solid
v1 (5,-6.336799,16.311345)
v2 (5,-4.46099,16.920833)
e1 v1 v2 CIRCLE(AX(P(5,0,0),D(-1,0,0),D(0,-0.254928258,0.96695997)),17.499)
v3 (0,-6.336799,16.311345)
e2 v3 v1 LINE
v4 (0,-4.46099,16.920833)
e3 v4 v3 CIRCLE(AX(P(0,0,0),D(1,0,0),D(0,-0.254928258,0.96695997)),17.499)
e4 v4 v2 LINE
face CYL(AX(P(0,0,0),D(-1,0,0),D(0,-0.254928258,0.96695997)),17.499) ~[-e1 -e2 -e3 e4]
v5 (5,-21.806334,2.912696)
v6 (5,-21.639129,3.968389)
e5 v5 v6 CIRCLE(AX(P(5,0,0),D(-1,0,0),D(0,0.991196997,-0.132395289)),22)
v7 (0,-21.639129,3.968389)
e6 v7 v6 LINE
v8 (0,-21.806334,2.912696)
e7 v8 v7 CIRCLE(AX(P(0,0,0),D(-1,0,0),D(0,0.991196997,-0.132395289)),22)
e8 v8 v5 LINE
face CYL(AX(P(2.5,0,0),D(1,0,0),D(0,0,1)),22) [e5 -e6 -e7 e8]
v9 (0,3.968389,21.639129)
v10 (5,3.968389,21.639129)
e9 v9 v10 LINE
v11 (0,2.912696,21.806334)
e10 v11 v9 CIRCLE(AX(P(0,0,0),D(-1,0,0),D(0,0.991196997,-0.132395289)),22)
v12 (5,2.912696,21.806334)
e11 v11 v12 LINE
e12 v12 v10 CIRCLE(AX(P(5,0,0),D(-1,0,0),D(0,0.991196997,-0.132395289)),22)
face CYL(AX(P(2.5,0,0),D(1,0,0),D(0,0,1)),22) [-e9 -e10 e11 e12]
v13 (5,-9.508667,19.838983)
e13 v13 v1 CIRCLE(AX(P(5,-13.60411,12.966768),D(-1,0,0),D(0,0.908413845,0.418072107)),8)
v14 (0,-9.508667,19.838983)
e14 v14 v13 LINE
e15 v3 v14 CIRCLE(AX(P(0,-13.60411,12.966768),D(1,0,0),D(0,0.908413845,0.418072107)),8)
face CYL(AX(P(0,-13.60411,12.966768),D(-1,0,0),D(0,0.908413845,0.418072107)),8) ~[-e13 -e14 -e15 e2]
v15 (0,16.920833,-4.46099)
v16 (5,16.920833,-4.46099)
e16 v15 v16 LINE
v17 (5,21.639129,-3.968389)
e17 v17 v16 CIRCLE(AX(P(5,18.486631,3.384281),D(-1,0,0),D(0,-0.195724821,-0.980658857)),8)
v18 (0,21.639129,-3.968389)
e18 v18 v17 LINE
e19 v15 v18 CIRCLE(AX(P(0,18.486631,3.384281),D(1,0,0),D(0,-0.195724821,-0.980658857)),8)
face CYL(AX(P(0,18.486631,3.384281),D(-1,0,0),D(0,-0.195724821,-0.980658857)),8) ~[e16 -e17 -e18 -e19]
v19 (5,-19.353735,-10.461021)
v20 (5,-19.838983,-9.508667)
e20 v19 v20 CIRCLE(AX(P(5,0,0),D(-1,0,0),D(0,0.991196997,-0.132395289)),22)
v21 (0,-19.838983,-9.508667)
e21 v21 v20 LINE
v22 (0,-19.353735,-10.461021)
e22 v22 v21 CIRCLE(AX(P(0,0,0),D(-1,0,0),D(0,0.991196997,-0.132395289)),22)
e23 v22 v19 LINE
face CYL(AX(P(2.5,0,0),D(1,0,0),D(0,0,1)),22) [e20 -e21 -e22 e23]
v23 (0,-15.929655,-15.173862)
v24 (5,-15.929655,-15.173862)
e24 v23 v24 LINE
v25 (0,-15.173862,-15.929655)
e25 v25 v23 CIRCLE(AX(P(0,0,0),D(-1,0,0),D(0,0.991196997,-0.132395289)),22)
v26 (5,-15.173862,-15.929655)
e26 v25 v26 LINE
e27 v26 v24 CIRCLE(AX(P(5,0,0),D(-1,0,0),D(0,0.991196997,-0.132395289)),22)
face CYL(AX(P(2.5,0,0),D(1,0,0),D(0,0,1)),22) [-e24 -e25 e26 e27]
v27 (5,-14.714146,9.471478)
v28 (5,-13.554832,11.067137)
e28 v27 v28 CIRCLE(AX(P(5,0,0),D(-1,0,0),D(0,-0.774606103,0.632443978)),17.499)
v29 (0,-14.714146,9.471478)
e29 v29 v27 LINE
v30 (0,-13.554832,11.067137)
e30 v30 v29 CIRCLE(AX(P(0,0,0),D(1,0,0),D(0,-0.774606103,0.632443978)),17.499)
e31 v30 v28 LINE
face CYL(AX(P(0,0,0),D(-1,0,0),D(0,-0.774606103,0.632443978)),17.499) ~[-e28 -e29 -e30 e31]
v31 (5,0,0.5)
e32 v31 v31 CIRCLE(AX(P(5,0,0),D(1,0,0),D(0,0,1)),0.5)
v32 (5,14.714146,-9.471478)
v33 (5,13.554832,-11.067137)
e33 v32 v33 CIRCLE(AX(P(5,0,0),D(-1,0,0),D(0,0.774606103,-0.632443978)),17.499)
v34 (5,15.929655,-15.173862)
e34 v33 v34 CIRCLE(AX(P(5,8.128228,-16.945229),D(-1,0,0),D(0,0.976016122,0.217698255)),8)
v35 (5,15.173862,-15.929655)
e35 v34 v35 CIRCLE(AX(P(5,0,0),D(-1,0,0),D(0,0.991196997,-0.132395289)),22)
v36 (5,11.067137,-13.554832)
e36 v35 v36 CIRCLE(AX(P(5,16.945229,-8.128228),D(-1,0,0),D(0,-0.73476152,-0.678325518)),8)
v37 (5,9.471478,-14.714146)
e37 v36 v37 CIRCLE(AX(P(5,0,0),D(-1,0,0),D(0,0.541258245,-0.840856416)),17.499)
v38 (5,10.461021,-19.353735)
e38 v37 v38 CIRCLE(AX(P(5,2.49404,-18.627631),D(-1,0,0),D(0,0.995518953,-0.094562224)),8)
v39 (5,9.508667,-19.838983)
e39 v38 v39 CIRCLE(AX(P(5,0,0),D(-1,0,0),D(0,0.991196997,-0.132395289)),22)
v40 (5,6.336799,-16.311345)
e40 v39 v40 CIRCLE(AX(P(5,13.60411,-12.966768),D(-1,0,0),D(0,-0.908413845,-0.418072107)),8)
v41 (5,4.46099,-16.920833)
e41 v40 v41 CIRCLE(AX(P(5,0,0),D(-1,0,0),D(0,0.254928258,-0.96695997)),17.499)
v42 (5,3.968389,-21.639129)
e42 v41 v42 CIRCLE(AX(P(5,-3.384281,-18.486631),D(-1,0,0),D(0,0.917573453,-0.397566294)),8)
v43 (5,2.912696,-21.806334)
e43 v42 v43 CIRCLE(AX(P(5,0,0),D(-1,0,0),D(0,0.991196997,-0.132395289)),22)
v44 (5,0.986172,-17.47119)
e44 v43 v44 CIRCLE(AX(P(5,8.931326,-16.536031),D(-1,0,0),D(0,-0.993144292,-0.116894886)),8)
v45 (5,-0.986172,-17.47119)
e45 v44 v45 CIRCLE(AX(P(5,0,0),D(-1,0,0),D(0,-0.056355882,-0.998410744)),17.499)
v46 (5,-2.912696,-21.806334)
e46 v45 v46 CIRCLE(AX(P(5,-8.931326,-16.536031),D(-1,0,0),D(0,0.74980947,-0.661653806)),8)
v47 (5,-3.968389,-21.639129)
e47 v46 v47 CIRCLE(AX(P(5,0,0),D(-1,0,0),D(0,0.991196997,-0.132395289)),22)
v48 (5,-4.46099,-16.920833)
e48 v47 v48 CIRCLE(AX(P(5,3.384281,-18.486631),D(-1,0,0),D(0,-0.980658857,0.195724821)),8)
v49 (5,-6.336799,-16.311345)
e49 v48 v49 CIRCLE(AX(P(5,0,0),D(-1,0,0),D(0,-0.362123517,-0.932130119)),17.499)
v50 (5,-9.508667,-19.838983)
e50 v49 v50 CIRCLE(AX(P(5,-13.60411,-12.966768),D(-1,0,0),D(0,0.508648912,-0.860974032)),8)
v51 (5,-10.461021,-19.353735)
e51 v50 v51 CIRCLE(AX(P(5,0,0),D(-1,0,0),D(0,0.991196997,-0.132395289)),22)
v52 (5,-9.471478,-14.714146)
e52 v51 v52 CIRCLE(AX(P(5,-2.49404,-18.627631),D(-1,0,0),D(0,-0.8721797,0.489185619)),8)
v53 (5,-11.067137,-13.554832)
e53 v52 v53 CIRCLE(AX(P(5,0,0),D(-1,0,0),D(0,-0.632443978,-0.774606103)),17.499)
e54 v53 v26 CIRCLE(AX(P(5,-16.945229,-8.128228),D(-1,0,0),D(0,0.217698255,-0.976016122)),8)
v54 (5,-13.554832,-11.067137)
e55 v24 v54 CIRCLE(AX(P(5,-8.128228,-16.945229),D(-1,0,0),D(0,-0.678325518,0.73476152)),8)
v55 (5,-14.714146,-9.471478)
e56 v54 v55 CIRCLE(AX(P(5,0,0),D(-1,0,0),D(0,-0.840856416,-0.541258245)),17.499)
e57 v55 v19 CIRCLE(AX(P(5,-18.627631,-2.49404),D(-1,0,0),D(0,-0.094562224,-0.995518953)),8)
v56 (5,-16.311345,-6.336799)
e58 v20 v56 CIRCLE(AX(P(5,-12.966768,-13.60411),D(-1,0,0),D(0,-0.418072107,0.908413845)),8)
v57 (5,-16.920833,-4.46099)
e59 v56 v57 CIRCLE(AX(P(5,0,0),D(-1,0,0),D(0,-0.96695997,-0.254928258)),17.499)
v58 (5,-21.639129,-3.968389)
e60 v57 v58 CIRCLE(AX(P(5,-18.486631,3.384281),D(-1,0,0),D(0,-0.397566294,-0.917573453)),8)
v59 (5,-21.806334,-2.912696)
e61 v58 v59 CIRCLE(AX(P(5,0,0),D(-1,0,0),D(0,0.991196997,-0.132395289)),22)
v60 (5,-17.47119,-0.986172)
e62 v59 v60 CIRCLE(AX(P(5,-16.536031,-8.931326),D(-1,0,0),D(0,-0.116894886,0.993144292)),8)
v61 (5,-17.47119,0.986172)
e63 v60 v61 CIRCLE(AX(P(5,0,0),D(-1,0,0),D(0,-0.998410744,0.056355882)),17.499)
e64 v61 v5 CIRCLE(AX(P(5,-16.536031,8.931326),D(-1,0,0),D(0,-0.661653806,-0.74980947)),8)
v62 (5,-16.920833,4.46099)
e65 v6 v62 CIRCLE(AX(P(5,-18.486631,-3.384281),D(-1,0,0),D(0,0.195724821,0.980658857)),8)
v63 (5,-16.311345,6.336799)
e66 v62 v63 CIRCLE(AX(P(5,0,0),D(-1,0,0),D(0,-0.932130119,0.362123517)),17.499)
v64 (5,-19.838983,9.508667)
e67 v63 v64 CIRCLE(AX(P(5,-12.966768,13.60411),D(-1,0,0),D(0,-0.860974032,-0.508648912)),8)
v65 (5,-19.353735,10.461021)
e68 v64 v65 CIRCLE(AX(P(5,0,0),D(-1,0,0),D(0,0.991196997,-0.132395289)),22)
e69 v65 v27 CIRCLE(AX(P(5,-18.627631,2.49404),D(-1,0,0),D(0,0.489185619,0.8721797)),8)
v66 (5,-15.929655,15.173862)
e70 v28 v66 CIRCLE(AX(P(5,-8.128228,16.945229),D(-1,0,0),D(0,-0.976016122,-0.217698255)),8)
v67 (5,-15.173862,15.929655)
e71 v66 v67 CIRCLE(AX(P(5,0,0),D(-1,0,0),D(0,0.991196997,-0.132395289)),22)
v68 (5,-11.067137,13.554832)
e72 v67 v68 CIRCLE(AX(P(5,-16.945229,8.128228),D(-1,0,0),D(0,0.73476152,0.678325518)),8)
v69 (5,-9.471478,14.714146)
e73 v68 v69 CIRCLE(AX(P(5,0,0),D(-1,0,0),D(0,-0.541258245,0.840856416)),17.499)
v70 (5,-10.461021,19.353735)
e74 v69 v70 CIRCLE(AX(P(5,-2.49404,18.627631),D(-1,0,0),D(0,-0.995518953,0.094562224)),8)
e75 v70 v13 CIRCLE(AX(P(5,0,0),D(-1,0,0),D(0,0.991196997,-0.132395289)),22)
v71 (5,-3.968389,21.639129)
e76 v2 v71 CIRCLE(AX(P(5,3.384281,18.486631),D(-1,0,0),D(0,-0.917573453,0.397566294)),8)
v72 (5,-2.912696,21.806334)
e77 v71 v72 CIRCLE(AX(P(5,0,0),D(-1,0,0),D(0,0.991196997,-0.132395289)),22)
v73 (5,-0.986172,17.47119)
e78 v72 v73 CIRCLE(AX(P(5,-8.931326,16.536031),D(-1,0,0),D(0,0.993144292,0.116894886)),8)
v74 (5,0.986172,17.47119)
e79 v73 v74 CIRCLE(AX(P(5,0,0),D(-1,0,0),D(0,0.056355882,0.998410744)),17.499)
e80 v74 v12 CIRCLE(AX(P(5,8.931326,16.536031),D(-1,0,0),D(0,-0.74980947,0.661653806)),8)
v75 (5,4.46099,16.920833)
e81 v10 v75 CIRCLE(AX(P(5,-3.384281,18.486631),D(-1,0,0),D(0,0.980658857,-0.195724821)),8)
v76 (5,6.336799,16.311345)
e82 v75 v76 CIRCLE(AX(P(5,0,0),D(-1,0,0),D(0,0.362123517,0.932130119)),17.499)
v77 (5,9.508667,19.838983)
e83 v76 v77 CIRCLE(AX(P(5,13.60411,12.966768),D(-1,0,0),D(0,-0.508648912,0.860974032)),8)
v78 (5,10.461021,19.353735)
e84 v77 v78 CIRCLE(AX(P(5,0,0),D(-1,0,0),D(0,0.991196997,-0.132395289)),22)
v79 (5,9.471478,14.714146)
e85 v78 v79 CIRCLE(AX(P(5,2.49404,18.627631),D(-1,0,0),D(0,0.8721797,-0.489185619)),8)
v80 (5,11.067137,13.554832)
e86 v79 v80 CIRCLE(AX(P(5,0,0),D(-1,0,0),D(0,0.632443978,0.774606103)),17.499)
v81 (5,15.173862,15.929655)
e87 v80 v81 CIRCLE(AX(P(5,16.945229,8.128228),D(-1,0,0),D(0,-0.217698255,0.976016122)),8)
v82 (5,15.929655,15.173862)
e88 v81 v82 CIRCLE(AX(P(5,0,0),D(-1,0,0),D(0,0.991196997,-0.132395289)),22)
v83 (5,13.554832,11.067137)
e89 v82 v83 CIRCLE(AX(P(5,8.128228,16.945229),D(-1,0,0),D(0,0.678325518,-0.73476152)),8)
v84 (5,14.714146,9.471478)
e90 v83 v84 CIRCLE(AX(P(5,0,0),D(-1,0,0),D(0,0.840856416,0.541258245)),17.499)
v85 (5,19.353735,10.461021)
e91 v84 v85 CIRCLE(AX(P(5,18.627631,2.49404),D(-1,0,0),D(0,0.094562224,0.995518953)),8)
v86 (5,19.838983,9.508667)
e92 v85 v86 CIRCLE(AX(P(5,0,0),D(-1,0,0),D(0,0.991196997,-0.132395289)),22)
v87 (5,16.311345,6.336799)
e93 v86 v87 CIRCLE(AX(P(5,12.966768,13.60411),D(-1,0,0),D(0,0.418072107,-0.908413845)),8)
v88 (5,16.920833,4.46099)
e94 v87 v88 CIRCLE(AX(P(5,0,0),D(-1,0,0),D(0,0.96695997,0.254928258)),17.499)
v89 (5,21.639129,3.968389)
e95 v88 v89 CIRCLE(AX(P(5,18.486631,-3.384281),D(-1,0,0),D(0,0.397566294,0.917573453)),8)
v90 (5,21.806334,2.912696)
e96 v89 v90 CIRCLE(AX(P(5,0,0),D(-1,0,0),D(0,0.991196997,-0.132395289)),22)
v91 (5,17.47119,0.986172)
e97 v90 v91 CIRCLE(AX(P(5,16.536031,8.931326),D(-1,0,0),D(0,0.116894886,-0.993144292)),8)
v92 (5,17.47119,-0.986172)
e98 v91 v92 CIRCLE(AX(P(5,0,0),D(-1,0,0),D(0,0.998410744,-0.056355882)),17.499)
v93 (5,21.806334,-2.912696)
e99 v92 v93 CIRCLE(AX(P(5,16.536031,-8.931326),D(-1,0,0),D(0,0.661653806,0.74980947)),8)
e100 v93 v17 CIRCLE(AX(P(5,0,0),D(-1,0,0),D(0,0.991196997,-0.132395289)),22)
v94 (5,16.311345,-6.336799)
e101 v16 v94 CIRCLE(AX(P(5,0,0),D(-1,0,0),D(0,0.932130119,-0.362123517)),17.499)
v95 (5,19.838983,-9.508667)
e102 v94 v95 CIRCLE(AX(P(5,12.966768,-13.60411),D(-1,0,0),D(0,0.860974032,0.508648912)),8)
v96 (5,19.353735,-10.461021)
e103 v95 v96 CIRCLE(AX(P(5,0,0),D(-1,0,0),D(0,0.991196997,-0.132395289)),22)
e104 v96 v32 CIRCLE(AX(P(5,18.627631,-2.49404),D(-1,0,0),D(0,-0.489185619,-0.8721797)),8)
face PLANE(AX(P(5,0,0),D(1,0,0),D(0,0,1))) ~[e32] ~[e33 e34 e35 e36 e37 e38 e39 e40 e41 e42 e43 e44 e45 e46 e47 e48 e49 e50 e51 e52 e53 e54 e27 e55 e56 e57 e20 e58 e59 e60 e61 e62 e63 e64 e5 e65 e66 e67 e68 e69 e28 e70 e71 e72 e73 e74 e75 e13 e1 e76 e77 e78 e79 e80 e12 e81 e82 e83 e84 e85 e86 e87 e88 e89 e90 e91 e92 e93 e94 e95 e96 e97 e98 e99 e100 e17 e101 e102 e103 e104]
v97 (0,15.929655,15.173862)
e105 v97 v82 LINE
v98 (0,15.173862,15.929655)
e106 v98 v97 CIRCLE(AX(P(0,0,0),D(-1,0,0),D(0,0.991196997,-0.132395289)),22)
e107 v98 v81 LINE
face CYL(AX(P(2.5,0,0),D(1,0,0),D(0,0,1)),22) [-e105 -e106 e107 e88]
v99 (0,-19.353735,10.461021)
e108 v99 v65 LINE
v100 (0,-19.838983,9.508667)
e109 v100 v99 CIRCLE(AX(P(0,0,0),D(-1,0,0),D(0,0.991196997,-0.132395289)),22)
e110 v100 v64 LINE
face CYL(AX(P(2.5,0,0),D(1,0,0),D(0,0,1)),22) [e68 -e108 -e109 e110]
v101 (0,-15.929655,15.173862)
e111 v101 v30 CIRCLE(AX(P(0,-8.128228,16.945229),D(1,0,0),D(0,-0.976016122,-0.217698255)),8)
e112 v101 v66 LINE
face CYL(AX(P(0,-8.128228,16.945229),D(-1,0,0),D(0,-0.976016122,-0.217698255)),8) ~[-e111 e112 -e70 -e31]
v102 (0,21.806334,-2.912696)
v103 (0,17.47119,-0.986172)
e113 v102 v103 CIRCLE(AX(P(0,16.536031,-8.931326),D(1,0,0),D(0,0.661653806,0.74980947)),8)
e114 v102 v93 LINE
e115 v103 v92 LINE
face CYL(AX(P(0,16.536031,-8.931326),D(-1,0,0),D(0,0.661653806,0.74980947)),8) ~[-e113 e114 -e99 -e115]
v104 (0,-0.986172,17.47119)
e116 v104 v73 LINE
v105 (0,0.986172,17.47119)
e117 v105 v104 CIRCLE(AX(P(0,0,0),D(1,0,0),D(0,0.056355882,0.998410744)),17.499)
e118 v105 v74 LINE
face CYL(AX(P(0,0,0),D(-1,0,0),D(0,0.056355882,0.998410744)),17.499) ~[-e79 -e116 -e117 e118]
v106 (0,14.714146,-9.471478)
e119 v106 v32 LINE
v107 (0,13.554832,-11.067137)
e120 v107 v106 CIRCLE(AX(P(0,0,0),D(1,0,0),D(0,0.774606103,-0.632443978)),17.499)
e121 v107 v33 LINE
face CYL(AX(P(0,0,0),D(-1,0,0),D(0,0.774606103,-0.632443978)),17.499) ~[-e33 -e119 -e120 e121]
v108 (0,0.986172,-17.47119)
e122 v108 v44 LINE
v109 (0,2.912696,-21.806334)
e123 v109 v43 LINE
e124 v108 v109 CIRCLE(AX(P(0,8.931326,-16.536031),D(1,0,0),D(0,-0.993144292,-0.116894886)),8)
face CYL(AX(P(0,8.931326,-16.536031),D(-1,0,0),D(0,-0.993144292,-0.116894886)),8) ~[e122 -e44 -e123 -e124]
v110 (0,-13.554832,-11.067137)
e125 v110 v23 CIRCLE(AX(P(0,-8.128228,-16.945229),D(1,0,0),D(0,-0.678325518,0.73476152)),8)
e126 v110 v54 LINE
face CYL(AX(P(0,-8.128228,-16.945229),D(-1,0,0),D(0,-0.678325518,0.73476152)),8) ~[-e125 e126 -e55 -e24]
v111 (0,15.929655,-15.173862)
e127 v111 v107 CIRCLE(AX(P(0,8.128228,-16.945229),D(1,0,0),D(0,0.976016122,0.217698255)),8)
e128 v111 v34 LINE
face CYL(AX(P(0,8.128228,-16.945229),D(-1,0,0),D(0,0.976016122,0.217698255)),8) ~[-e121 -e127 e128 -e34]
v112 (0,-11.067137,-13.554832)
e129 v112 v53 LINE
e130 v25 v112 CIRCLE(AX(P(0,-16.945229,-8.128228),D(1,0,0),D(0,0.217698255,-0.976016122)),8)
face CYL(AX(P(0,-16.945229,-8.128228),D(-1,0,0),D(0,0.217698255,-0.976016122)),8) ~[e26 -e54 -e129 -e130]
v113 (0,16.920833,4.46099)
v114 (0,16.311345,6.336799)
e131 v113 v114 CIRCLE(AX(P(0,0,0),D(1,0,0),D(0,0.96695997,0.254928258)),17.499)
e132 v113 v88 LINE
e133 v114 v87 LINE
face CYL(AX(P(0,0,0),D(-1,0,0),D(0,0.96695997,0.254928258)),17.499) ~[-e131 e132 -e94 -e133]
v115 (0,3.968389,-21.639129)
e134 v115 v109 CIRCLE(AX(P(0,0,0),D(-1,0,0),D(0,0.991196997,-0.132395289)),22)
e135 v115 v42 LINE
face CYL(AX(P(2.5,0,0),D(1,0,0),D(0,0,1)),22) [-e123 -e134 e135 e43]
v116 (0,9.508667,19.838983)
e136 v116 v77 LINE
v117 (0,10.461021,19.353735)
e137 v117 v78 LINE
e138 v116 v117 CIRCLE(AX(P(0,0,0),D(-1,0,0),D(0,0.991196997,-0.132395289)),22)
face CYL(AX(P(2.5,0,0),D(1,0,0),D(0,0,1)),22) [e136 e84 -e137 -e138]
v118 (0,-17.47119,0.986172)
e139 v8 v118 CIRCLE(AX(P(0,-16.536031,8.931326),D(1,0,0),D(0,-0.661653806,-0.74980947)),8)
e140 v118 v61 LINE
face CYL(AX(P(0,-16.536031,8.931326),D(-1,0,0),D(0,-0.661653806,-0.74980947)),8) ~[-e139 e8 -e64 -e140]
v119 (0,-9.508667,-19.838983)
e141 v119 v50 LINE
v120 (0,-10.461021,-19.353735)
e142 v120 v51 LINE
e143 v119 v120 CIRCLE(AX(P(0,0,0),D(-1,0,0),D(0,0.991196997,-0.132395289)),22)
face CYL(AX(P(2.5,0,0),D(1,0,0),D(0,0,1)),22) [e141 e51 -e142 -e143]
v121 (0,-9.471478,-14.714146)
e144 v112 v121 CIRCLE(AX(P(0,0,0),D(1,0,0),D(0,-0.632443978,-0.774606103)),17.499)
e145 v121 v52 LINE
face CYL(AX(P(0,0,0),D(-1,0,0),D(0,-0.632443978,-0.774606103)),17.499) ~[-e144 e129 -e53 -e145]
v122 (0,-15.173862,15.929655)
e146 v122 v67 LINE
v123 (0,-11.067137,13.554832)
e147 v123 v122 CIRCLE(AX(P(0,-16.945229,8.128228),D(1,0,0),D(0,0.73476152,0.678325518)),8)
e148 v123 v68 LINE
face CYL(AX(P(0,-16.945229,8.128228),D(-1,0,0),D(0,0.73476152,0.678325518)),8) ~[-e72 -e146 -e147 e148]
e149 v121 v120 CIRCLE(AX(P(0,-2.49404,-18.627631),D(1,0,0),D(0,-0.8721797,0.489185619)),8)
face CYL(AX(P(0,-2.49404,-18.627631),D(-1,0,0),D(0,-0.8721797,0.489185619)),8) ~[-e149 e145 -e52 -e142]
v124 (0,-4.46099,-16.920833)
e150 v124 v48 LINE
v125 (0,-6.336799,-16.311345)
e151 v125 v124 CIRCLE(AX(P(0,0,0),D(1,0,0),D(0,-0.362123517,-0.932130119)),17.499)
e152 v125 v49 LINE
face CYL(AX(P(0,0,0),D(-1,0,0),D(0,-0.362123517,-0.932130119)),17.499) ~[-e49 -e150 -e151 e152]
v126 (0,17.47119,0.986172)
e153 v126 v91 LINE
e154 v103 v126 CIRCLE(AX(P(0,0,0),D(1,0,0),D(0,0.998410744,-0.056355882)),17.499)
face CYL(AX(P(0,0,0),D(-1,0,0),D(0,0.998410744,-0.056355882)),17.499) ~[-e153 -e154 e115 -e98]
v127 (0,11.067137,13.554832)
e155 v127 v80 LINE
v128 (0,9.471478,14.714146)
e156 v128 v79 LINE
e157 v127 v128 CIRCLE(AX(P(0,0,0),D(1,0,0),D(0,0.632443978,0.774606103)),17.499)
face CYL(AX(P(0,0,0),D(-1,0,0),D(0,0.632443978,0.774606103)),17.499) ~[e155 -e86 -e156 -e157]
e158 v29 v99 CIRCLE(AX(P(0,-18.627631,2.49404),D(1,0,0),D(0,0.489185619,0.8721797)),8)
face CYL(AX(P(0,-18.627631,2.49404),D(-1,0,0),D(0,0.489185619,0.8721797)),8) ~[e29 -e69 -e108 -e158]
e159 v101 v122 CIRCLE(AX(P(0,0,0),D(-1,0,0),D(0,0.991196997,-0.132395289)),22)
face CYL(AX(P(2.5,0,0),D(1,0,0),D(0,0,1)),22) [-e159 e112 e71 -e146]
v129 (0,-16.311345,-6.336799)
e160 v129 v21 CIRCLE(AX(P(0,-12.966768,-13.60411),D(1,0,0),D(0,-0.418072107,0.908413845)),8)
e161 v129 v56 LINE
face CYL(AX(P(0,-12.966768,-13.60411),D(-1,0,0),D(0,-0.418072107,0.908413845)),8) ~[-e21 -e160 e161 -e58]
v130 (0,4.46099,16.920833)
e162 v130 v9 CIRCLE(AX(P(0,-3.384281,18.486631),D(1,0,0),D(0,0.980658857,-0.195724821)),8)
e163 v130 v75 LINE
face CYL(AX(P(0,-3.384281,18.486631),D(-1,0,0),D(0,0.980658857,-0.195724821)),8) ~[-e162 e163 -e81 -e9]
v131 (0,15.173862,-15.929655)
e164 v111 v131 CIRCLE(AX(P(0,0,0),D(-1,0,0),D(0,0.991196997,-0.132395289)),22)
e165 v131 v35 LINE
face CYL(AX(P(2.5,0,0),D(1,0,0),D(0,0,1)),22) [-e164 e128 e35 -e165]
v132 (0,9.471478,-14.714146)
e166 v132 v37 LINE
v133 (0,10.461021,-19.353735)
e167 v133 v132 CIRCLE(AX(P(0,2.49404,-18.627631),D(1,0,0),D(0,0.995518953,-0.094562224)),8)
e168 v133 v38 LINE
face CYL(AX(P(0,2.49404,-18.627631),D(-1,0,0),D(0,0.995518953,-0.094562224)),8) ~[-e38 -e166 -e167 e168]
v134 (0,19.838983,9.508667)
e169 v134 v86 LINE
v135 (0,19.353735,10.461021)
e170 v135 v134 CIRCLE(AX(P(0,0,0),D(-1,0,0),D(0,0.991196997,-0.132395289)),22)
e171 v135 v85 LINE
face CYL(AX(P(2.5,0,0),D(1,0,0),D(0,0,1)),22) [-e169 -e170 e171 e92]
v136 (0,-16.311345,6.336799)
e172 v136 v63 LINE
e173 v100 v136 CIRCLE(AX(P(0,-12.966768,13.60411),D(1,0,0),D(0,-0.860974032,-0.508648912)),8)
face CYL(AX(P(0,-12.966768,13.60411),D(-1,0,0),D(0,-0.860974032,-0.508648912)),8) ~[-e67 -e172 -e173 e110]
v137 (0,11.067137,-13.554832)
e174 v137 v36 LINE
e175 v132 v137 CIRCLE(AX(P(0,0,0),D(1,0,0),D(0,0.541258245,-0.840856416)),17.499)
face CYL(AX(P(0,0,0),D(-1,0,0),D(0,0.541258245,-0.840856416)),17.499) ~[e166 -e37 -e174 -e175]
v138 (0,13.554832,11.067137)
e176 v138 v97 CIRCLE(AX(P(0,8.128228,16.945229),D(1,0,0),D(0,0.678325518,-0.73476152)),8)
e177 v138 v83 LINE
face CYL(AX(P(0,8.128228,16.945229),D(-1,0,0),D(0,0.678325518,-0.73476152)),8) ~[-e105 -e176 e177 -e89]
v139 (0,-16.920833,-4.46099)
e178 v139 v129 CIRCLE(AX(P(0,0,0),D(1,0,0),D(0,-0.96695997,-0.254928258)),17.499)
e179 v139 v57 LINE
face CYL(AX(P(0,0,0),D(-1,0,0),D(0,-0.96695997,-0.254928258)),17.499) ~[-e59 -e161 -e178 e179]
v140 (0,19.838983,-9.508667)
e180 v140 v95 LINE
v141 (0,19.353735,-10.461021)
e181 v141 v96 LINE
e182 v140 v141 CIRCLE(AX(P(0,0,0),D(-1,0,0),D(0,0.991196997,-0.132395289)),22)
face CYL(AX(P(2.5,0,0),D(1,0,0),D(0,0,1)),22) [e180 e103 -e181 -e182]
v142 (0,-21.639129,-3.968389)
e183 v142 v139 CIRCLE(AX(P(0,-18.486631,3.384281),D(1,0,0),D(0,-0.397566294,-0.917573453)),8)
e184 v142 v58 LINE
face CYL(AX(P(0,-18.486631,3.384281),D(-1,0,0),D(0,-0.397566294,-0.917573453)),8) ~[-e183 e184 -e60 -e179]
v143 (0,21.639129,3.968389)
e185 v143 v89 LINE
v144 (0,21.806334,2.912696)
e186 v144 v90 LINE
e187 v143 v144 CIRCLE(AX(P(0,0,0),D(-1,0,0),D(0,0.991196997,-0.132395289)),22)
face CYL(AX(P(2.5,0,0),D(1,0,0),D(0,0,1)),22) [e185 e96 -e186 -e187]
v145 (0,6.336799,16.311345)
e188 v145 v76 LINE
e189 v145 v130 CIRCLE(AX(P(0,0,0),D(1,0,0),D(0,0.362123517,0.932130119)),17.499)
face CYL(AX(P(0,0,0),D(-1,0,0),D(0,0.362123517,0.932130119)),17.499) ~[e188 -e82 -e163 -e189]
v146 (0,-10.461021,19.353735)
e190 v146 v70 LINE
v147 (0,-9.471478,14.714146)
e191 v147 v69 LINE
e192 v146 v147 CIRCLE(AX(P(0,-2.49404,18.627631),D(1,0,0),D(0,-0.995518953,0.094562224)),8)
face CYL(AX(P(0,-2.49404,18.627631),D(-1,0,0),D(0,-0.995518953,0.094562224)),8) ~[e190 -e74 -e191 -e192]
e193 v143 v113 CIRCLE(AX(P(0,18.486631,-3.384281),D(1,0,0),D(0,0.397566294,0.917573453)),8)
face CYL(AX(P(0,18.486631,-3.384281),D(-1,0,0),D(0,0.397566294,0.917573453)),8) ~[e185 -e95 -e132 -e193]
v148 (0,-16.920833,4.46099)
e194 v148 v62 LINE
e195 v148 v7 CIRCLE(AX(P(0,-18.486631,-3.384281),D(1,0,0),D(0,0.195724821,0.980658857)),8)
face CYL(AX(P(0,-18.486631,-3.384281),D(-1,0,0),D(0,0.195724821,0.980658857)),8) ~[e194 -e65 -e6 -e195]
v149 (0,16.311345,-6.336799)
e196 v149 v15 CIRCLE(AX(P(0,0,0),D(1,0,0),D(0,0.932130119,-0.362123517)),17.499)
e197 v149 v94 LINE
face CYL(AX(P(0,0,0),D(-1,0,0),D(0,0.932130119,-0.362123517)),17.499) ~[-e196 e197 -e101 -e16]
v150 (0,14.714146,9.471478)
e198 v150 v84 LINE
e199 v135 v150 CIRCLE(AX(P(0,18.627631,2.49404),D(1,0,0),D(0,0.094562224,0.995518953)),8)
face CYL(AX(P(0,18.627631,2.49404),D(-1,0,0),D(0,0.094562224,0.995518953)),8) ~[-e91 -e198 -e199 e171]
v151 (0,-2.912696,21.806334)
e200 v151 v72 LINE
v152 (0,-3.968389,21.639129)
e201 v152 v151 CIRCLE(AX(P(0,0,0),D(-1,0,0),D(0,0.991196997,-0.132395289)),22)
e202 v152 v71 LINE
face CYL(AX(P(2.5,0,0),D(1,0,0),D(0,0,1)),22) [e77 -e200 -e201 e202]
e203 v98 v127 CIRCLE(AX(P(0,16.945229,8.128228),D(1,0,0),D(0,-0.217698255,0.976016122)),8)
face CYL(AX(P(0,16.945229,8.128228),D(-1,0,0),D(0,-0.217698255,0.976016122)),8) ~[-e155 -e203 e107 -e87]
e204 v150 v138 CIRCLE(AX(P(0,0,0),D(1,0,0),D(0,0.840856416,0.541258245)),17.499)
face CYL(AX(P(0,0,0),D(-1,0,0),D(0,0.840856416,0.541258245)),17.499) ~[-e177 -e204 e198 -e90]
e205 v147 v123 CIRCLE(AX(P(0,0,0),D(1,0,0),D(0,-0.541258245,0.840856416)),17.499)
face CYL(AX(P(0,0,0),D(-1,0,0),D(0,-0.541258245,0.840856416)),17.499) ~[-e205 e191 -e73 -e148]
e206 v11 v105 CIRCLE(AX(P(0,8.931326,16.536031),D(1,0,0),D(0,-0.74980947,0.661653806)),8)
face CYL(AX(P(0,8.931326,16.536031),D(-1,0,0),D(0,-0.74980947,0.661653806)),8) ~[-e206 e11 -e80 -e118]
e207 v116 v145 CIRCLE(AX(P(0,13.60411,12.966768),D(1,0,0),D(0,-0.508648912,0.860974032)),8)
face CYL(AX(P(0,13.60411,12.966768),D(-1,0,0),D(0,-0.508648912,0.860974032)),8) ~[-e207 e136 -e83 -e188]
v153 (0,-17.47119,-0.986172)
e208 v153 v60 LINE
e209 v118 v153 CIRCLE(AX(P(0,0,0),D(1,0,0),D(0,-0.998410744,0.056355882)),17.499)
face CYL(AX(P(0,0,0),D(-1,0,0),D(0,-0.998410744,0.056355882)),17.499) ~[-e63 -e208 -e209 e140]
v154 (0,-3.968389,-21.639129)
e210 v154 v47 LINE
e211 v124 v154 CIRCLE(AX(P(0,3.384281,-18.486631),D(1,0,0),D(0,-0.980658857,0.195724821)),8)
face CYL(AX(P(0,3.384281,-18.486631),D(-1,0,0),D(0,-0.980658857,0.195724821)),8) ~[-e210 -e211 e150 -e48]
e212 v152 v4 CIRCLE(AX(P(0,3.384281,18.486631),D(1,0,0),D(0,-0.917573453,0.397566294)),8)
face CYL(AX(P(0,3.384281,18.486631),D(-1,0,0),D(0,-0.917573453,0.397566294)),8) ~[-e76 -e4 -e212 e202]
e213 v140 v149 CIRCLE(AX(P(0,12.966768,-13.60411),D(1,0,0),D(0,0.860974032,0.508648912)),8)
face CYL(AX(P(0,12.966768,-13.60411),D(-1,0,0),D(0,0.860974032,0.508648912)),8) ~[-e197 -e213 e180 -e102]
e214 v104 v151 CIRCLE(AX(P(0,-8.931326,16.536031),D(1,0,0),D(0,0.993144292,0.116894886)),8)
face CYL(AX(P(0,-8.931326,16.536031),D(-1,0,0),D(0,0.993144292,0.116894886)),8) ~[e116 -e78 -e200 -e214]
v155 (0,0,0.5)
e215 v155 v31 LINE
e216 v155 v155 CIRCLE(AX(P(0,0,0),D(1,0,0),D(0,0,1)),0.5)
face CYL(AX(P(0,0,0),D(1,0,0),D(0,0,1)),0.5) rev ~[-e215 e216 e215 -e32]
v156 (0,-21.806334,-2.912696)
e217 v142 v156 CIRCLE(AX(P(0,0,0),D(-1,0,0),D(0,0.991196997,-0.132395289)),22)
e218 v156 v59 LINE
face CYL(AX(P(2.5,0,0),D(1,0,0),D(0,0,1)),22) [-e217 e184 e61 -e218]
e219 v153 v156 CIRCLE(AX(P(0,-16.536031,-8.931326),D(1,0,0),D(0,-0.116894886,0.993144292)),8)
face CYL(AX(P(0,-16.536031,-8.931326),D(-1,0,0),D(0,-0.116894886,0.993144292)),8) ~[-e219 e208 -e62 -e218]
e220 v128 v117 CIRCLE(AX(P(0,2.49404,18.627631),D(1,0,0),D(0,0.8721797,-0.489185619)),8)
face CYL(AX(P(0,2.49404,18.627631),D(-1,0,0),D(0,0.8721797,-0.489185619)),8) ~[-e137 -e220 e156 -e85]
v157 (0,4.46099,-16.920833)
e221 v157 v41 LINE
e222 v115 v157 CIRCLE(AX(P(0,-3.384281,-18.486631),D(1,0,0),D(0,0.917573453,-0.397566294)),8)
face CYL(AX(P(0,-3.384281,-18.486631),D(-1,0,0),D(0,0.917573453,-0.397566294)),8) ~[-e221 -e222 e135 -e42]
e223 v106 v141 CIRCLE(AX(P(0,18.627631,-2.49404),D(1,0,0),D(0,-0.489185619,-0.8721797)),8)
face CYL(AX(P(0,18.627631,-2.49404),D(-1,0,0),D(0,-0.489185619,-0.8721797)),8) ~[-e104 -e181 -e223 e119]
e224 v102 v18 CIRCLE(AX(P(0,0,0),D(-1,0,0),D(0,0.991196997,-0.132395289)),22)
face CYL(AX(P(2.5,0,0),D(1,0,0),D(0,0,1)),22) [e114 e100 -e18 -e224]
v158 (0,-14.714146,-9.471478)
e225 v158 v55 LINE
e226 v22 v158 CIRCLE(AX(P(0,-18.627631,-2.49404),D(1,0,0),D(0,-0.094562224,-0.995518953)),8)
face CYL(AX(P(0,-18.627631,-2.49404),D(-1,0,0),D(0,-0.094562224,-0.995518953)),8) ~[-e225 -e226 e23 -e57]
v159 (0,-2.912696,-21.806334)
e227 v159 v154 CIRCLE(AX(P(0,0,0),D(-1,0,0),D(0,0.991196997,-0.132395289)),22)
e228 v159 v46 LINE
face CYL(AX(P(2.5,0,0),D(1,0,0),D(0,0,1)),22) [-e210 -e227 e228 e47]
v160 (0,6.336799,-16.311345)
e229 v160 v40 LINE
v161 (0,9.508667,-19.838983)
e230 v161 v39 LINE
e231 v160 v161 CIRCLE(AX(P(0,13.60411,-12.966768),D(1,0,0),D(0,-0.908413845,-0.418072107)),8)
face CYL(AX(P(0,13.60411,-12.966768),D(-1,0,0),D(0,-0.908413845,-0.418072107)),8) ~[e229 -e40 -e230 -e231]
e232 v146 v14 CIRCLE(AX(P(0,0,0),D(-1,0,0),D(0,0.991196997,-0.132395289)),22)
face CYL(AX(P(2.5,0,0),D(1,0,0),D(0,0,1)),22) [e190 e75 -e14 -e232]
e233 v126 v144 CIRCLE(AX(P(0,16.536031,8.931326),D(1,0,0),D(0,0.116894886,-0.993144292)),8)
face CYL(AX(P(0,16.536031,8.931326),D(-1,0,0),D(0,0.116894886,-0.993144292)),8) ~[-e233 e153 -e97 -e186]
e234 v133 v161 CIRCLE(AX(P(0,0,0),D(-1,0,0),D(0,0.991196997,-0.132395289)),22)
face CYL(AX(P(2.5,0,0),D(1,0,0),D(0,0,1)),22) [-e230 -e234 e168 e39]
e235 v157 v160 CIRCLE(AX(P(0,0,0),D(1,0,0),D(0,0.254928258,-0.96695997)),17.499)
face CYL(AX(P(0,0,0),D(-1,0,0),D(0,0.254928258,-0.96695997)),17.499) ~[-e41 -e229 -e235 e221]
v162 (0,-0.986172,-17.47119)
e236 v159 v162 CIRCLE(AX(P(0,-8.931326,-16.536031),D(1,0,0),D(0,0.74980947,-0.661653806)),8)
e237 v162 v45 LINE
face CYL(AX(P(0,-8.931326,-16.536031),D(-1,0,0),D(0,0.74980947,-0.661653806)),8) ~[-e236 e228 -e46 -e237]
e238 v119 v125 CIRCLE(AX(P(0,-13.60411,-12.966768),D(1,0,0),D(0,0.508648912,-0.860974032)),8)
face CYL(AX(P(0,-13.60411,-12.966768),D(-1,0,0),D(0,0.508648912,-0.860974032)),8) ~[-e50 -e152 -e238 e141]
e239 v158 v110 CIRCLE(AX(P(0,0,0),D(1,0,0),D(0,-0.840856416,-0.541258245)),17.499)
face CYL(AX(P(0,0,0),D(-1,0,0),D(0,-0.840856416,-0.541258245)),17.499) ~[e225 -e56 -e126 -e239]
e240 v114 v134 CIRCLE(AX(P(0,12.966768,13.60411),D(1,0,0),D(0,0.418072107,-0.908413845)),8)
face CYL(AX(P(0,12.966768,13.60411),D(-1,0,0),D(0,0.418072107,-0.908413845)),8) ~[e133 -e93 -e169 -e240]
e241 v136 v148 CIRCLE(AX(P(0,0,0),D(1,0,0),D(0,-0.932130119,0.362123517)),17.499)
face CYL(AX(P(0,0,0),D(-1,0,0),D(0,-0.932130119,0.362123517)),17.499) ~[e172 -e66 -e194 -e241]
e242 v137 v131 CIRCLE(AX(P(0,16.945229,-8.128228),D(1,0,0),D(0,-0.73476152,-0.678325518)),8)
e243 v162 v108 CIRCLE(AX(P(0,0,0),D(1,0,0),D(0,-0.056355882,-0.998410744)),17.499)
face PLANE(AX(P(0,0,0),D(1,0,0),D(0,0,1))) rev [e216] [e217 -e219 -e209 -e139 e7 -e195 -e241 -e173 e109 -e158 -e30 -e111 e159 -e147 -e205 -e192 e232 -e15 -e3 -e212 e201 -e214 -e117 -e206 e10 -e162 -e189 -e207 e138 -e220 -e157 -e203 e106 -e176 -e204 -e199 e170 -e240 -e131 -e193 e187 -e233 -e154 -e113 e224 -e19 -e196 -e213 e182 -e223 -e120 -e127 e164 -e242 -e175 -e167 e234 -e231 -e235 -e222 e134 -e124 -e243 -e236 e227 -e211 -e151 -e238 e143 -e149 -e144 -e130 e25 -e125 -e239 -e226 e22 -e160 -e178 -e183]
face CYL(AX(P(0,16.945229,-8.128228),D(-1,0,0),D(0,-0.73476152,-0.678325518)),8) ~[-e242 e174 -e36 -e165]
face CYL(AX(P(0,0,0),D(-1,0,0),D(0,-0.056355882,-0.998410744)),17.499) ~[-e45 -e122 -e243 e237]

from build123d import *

# Parameters (mm, degrees)
BASPROSKE_W     = 5
BASPROSKE_H     = 22
TOOTHCUT_DEPTH  = 32.511902513
TEETHCUTS_COUNT = 20
TEETHCUTS_ANGLE = 342
BORSKE_R        = 0.5
BORE_DEPTH      = 50.0000508


with BuildPart() as part:
    # BasProSke → Base-Revolve (revolve)
    with BuildSketch(Plane(origin=(0, 0, 0), x_dir=(1, 0, 0), z_dir=(0, 1, 0)), mode=Mode.PRIVATE) as base_revolve_sk:
        with Locations((2.5, 11)):
            Rectangle(BASPROSKE_W, BASPROSKE_H)
    revolve(base_revolve_sk.sketch.rotate(Axis((-10, 0, 0), (1, 0, 0)), 180), axis=Axis((-10, 0, 0), (1, 0, 0)))

    # TooCutSke → ToothCut (cut, through all)
    with BuildSketch(Plane(origin=(0, 0, 0), x_dir=(0, 0, -1), z_dir=(1, 0, 0))):
        with BuildLine():
            ThreePointArc((0.986171591, 17.471189616), (0, 17.499), (-0.986171591, 17.471189616))
            ThreePointArc((-0.986171591, 17.471189616), (-1.626916196, 19.798789858), (-2.932850173, 21.829260982))
            ThreePointArc((-2.932850173, 21.829260982), (0, 22.0254), (2.932850173, 21.829260982))
            ThreePointArc((2.932850173, 21.829260982), (1.626916196, 19.798789858), (0.986171591, 17.471189616))
        make_face()
    toothcut = extrude(amount=TOOTHCUT_DEPTH, mode=Mode.SUBTRACT)

    # TeethCuts: ToothCut ×20 about axis
    teethcuts_axis = Axis((-10, 0, 0), (1, 0, 0))
    for i in range(1, TEETHCUTS_COUNT):
        add(toothcut.rotate(teethcuts_axis, i * TEETHCUTS_ANGLE / (TEETHCUTS_COUNT - 1)), mode=Mode.SUBTRACT)

    # BorSke → Bore (cut, symmetric)
    with BuildSketch(Plane(origin=(0, 0, 0), x_dir=(0, 0, -1), z_dir=(1, 0, 0))):
        with Locations(Location((0, 0, 0), (0, 0, 180))):
            Circle(BORSKE_R)
    extrude(amount=BORE_DEPTH, both=True, mode=Mode.SUBTRACT)


solid = part.part
